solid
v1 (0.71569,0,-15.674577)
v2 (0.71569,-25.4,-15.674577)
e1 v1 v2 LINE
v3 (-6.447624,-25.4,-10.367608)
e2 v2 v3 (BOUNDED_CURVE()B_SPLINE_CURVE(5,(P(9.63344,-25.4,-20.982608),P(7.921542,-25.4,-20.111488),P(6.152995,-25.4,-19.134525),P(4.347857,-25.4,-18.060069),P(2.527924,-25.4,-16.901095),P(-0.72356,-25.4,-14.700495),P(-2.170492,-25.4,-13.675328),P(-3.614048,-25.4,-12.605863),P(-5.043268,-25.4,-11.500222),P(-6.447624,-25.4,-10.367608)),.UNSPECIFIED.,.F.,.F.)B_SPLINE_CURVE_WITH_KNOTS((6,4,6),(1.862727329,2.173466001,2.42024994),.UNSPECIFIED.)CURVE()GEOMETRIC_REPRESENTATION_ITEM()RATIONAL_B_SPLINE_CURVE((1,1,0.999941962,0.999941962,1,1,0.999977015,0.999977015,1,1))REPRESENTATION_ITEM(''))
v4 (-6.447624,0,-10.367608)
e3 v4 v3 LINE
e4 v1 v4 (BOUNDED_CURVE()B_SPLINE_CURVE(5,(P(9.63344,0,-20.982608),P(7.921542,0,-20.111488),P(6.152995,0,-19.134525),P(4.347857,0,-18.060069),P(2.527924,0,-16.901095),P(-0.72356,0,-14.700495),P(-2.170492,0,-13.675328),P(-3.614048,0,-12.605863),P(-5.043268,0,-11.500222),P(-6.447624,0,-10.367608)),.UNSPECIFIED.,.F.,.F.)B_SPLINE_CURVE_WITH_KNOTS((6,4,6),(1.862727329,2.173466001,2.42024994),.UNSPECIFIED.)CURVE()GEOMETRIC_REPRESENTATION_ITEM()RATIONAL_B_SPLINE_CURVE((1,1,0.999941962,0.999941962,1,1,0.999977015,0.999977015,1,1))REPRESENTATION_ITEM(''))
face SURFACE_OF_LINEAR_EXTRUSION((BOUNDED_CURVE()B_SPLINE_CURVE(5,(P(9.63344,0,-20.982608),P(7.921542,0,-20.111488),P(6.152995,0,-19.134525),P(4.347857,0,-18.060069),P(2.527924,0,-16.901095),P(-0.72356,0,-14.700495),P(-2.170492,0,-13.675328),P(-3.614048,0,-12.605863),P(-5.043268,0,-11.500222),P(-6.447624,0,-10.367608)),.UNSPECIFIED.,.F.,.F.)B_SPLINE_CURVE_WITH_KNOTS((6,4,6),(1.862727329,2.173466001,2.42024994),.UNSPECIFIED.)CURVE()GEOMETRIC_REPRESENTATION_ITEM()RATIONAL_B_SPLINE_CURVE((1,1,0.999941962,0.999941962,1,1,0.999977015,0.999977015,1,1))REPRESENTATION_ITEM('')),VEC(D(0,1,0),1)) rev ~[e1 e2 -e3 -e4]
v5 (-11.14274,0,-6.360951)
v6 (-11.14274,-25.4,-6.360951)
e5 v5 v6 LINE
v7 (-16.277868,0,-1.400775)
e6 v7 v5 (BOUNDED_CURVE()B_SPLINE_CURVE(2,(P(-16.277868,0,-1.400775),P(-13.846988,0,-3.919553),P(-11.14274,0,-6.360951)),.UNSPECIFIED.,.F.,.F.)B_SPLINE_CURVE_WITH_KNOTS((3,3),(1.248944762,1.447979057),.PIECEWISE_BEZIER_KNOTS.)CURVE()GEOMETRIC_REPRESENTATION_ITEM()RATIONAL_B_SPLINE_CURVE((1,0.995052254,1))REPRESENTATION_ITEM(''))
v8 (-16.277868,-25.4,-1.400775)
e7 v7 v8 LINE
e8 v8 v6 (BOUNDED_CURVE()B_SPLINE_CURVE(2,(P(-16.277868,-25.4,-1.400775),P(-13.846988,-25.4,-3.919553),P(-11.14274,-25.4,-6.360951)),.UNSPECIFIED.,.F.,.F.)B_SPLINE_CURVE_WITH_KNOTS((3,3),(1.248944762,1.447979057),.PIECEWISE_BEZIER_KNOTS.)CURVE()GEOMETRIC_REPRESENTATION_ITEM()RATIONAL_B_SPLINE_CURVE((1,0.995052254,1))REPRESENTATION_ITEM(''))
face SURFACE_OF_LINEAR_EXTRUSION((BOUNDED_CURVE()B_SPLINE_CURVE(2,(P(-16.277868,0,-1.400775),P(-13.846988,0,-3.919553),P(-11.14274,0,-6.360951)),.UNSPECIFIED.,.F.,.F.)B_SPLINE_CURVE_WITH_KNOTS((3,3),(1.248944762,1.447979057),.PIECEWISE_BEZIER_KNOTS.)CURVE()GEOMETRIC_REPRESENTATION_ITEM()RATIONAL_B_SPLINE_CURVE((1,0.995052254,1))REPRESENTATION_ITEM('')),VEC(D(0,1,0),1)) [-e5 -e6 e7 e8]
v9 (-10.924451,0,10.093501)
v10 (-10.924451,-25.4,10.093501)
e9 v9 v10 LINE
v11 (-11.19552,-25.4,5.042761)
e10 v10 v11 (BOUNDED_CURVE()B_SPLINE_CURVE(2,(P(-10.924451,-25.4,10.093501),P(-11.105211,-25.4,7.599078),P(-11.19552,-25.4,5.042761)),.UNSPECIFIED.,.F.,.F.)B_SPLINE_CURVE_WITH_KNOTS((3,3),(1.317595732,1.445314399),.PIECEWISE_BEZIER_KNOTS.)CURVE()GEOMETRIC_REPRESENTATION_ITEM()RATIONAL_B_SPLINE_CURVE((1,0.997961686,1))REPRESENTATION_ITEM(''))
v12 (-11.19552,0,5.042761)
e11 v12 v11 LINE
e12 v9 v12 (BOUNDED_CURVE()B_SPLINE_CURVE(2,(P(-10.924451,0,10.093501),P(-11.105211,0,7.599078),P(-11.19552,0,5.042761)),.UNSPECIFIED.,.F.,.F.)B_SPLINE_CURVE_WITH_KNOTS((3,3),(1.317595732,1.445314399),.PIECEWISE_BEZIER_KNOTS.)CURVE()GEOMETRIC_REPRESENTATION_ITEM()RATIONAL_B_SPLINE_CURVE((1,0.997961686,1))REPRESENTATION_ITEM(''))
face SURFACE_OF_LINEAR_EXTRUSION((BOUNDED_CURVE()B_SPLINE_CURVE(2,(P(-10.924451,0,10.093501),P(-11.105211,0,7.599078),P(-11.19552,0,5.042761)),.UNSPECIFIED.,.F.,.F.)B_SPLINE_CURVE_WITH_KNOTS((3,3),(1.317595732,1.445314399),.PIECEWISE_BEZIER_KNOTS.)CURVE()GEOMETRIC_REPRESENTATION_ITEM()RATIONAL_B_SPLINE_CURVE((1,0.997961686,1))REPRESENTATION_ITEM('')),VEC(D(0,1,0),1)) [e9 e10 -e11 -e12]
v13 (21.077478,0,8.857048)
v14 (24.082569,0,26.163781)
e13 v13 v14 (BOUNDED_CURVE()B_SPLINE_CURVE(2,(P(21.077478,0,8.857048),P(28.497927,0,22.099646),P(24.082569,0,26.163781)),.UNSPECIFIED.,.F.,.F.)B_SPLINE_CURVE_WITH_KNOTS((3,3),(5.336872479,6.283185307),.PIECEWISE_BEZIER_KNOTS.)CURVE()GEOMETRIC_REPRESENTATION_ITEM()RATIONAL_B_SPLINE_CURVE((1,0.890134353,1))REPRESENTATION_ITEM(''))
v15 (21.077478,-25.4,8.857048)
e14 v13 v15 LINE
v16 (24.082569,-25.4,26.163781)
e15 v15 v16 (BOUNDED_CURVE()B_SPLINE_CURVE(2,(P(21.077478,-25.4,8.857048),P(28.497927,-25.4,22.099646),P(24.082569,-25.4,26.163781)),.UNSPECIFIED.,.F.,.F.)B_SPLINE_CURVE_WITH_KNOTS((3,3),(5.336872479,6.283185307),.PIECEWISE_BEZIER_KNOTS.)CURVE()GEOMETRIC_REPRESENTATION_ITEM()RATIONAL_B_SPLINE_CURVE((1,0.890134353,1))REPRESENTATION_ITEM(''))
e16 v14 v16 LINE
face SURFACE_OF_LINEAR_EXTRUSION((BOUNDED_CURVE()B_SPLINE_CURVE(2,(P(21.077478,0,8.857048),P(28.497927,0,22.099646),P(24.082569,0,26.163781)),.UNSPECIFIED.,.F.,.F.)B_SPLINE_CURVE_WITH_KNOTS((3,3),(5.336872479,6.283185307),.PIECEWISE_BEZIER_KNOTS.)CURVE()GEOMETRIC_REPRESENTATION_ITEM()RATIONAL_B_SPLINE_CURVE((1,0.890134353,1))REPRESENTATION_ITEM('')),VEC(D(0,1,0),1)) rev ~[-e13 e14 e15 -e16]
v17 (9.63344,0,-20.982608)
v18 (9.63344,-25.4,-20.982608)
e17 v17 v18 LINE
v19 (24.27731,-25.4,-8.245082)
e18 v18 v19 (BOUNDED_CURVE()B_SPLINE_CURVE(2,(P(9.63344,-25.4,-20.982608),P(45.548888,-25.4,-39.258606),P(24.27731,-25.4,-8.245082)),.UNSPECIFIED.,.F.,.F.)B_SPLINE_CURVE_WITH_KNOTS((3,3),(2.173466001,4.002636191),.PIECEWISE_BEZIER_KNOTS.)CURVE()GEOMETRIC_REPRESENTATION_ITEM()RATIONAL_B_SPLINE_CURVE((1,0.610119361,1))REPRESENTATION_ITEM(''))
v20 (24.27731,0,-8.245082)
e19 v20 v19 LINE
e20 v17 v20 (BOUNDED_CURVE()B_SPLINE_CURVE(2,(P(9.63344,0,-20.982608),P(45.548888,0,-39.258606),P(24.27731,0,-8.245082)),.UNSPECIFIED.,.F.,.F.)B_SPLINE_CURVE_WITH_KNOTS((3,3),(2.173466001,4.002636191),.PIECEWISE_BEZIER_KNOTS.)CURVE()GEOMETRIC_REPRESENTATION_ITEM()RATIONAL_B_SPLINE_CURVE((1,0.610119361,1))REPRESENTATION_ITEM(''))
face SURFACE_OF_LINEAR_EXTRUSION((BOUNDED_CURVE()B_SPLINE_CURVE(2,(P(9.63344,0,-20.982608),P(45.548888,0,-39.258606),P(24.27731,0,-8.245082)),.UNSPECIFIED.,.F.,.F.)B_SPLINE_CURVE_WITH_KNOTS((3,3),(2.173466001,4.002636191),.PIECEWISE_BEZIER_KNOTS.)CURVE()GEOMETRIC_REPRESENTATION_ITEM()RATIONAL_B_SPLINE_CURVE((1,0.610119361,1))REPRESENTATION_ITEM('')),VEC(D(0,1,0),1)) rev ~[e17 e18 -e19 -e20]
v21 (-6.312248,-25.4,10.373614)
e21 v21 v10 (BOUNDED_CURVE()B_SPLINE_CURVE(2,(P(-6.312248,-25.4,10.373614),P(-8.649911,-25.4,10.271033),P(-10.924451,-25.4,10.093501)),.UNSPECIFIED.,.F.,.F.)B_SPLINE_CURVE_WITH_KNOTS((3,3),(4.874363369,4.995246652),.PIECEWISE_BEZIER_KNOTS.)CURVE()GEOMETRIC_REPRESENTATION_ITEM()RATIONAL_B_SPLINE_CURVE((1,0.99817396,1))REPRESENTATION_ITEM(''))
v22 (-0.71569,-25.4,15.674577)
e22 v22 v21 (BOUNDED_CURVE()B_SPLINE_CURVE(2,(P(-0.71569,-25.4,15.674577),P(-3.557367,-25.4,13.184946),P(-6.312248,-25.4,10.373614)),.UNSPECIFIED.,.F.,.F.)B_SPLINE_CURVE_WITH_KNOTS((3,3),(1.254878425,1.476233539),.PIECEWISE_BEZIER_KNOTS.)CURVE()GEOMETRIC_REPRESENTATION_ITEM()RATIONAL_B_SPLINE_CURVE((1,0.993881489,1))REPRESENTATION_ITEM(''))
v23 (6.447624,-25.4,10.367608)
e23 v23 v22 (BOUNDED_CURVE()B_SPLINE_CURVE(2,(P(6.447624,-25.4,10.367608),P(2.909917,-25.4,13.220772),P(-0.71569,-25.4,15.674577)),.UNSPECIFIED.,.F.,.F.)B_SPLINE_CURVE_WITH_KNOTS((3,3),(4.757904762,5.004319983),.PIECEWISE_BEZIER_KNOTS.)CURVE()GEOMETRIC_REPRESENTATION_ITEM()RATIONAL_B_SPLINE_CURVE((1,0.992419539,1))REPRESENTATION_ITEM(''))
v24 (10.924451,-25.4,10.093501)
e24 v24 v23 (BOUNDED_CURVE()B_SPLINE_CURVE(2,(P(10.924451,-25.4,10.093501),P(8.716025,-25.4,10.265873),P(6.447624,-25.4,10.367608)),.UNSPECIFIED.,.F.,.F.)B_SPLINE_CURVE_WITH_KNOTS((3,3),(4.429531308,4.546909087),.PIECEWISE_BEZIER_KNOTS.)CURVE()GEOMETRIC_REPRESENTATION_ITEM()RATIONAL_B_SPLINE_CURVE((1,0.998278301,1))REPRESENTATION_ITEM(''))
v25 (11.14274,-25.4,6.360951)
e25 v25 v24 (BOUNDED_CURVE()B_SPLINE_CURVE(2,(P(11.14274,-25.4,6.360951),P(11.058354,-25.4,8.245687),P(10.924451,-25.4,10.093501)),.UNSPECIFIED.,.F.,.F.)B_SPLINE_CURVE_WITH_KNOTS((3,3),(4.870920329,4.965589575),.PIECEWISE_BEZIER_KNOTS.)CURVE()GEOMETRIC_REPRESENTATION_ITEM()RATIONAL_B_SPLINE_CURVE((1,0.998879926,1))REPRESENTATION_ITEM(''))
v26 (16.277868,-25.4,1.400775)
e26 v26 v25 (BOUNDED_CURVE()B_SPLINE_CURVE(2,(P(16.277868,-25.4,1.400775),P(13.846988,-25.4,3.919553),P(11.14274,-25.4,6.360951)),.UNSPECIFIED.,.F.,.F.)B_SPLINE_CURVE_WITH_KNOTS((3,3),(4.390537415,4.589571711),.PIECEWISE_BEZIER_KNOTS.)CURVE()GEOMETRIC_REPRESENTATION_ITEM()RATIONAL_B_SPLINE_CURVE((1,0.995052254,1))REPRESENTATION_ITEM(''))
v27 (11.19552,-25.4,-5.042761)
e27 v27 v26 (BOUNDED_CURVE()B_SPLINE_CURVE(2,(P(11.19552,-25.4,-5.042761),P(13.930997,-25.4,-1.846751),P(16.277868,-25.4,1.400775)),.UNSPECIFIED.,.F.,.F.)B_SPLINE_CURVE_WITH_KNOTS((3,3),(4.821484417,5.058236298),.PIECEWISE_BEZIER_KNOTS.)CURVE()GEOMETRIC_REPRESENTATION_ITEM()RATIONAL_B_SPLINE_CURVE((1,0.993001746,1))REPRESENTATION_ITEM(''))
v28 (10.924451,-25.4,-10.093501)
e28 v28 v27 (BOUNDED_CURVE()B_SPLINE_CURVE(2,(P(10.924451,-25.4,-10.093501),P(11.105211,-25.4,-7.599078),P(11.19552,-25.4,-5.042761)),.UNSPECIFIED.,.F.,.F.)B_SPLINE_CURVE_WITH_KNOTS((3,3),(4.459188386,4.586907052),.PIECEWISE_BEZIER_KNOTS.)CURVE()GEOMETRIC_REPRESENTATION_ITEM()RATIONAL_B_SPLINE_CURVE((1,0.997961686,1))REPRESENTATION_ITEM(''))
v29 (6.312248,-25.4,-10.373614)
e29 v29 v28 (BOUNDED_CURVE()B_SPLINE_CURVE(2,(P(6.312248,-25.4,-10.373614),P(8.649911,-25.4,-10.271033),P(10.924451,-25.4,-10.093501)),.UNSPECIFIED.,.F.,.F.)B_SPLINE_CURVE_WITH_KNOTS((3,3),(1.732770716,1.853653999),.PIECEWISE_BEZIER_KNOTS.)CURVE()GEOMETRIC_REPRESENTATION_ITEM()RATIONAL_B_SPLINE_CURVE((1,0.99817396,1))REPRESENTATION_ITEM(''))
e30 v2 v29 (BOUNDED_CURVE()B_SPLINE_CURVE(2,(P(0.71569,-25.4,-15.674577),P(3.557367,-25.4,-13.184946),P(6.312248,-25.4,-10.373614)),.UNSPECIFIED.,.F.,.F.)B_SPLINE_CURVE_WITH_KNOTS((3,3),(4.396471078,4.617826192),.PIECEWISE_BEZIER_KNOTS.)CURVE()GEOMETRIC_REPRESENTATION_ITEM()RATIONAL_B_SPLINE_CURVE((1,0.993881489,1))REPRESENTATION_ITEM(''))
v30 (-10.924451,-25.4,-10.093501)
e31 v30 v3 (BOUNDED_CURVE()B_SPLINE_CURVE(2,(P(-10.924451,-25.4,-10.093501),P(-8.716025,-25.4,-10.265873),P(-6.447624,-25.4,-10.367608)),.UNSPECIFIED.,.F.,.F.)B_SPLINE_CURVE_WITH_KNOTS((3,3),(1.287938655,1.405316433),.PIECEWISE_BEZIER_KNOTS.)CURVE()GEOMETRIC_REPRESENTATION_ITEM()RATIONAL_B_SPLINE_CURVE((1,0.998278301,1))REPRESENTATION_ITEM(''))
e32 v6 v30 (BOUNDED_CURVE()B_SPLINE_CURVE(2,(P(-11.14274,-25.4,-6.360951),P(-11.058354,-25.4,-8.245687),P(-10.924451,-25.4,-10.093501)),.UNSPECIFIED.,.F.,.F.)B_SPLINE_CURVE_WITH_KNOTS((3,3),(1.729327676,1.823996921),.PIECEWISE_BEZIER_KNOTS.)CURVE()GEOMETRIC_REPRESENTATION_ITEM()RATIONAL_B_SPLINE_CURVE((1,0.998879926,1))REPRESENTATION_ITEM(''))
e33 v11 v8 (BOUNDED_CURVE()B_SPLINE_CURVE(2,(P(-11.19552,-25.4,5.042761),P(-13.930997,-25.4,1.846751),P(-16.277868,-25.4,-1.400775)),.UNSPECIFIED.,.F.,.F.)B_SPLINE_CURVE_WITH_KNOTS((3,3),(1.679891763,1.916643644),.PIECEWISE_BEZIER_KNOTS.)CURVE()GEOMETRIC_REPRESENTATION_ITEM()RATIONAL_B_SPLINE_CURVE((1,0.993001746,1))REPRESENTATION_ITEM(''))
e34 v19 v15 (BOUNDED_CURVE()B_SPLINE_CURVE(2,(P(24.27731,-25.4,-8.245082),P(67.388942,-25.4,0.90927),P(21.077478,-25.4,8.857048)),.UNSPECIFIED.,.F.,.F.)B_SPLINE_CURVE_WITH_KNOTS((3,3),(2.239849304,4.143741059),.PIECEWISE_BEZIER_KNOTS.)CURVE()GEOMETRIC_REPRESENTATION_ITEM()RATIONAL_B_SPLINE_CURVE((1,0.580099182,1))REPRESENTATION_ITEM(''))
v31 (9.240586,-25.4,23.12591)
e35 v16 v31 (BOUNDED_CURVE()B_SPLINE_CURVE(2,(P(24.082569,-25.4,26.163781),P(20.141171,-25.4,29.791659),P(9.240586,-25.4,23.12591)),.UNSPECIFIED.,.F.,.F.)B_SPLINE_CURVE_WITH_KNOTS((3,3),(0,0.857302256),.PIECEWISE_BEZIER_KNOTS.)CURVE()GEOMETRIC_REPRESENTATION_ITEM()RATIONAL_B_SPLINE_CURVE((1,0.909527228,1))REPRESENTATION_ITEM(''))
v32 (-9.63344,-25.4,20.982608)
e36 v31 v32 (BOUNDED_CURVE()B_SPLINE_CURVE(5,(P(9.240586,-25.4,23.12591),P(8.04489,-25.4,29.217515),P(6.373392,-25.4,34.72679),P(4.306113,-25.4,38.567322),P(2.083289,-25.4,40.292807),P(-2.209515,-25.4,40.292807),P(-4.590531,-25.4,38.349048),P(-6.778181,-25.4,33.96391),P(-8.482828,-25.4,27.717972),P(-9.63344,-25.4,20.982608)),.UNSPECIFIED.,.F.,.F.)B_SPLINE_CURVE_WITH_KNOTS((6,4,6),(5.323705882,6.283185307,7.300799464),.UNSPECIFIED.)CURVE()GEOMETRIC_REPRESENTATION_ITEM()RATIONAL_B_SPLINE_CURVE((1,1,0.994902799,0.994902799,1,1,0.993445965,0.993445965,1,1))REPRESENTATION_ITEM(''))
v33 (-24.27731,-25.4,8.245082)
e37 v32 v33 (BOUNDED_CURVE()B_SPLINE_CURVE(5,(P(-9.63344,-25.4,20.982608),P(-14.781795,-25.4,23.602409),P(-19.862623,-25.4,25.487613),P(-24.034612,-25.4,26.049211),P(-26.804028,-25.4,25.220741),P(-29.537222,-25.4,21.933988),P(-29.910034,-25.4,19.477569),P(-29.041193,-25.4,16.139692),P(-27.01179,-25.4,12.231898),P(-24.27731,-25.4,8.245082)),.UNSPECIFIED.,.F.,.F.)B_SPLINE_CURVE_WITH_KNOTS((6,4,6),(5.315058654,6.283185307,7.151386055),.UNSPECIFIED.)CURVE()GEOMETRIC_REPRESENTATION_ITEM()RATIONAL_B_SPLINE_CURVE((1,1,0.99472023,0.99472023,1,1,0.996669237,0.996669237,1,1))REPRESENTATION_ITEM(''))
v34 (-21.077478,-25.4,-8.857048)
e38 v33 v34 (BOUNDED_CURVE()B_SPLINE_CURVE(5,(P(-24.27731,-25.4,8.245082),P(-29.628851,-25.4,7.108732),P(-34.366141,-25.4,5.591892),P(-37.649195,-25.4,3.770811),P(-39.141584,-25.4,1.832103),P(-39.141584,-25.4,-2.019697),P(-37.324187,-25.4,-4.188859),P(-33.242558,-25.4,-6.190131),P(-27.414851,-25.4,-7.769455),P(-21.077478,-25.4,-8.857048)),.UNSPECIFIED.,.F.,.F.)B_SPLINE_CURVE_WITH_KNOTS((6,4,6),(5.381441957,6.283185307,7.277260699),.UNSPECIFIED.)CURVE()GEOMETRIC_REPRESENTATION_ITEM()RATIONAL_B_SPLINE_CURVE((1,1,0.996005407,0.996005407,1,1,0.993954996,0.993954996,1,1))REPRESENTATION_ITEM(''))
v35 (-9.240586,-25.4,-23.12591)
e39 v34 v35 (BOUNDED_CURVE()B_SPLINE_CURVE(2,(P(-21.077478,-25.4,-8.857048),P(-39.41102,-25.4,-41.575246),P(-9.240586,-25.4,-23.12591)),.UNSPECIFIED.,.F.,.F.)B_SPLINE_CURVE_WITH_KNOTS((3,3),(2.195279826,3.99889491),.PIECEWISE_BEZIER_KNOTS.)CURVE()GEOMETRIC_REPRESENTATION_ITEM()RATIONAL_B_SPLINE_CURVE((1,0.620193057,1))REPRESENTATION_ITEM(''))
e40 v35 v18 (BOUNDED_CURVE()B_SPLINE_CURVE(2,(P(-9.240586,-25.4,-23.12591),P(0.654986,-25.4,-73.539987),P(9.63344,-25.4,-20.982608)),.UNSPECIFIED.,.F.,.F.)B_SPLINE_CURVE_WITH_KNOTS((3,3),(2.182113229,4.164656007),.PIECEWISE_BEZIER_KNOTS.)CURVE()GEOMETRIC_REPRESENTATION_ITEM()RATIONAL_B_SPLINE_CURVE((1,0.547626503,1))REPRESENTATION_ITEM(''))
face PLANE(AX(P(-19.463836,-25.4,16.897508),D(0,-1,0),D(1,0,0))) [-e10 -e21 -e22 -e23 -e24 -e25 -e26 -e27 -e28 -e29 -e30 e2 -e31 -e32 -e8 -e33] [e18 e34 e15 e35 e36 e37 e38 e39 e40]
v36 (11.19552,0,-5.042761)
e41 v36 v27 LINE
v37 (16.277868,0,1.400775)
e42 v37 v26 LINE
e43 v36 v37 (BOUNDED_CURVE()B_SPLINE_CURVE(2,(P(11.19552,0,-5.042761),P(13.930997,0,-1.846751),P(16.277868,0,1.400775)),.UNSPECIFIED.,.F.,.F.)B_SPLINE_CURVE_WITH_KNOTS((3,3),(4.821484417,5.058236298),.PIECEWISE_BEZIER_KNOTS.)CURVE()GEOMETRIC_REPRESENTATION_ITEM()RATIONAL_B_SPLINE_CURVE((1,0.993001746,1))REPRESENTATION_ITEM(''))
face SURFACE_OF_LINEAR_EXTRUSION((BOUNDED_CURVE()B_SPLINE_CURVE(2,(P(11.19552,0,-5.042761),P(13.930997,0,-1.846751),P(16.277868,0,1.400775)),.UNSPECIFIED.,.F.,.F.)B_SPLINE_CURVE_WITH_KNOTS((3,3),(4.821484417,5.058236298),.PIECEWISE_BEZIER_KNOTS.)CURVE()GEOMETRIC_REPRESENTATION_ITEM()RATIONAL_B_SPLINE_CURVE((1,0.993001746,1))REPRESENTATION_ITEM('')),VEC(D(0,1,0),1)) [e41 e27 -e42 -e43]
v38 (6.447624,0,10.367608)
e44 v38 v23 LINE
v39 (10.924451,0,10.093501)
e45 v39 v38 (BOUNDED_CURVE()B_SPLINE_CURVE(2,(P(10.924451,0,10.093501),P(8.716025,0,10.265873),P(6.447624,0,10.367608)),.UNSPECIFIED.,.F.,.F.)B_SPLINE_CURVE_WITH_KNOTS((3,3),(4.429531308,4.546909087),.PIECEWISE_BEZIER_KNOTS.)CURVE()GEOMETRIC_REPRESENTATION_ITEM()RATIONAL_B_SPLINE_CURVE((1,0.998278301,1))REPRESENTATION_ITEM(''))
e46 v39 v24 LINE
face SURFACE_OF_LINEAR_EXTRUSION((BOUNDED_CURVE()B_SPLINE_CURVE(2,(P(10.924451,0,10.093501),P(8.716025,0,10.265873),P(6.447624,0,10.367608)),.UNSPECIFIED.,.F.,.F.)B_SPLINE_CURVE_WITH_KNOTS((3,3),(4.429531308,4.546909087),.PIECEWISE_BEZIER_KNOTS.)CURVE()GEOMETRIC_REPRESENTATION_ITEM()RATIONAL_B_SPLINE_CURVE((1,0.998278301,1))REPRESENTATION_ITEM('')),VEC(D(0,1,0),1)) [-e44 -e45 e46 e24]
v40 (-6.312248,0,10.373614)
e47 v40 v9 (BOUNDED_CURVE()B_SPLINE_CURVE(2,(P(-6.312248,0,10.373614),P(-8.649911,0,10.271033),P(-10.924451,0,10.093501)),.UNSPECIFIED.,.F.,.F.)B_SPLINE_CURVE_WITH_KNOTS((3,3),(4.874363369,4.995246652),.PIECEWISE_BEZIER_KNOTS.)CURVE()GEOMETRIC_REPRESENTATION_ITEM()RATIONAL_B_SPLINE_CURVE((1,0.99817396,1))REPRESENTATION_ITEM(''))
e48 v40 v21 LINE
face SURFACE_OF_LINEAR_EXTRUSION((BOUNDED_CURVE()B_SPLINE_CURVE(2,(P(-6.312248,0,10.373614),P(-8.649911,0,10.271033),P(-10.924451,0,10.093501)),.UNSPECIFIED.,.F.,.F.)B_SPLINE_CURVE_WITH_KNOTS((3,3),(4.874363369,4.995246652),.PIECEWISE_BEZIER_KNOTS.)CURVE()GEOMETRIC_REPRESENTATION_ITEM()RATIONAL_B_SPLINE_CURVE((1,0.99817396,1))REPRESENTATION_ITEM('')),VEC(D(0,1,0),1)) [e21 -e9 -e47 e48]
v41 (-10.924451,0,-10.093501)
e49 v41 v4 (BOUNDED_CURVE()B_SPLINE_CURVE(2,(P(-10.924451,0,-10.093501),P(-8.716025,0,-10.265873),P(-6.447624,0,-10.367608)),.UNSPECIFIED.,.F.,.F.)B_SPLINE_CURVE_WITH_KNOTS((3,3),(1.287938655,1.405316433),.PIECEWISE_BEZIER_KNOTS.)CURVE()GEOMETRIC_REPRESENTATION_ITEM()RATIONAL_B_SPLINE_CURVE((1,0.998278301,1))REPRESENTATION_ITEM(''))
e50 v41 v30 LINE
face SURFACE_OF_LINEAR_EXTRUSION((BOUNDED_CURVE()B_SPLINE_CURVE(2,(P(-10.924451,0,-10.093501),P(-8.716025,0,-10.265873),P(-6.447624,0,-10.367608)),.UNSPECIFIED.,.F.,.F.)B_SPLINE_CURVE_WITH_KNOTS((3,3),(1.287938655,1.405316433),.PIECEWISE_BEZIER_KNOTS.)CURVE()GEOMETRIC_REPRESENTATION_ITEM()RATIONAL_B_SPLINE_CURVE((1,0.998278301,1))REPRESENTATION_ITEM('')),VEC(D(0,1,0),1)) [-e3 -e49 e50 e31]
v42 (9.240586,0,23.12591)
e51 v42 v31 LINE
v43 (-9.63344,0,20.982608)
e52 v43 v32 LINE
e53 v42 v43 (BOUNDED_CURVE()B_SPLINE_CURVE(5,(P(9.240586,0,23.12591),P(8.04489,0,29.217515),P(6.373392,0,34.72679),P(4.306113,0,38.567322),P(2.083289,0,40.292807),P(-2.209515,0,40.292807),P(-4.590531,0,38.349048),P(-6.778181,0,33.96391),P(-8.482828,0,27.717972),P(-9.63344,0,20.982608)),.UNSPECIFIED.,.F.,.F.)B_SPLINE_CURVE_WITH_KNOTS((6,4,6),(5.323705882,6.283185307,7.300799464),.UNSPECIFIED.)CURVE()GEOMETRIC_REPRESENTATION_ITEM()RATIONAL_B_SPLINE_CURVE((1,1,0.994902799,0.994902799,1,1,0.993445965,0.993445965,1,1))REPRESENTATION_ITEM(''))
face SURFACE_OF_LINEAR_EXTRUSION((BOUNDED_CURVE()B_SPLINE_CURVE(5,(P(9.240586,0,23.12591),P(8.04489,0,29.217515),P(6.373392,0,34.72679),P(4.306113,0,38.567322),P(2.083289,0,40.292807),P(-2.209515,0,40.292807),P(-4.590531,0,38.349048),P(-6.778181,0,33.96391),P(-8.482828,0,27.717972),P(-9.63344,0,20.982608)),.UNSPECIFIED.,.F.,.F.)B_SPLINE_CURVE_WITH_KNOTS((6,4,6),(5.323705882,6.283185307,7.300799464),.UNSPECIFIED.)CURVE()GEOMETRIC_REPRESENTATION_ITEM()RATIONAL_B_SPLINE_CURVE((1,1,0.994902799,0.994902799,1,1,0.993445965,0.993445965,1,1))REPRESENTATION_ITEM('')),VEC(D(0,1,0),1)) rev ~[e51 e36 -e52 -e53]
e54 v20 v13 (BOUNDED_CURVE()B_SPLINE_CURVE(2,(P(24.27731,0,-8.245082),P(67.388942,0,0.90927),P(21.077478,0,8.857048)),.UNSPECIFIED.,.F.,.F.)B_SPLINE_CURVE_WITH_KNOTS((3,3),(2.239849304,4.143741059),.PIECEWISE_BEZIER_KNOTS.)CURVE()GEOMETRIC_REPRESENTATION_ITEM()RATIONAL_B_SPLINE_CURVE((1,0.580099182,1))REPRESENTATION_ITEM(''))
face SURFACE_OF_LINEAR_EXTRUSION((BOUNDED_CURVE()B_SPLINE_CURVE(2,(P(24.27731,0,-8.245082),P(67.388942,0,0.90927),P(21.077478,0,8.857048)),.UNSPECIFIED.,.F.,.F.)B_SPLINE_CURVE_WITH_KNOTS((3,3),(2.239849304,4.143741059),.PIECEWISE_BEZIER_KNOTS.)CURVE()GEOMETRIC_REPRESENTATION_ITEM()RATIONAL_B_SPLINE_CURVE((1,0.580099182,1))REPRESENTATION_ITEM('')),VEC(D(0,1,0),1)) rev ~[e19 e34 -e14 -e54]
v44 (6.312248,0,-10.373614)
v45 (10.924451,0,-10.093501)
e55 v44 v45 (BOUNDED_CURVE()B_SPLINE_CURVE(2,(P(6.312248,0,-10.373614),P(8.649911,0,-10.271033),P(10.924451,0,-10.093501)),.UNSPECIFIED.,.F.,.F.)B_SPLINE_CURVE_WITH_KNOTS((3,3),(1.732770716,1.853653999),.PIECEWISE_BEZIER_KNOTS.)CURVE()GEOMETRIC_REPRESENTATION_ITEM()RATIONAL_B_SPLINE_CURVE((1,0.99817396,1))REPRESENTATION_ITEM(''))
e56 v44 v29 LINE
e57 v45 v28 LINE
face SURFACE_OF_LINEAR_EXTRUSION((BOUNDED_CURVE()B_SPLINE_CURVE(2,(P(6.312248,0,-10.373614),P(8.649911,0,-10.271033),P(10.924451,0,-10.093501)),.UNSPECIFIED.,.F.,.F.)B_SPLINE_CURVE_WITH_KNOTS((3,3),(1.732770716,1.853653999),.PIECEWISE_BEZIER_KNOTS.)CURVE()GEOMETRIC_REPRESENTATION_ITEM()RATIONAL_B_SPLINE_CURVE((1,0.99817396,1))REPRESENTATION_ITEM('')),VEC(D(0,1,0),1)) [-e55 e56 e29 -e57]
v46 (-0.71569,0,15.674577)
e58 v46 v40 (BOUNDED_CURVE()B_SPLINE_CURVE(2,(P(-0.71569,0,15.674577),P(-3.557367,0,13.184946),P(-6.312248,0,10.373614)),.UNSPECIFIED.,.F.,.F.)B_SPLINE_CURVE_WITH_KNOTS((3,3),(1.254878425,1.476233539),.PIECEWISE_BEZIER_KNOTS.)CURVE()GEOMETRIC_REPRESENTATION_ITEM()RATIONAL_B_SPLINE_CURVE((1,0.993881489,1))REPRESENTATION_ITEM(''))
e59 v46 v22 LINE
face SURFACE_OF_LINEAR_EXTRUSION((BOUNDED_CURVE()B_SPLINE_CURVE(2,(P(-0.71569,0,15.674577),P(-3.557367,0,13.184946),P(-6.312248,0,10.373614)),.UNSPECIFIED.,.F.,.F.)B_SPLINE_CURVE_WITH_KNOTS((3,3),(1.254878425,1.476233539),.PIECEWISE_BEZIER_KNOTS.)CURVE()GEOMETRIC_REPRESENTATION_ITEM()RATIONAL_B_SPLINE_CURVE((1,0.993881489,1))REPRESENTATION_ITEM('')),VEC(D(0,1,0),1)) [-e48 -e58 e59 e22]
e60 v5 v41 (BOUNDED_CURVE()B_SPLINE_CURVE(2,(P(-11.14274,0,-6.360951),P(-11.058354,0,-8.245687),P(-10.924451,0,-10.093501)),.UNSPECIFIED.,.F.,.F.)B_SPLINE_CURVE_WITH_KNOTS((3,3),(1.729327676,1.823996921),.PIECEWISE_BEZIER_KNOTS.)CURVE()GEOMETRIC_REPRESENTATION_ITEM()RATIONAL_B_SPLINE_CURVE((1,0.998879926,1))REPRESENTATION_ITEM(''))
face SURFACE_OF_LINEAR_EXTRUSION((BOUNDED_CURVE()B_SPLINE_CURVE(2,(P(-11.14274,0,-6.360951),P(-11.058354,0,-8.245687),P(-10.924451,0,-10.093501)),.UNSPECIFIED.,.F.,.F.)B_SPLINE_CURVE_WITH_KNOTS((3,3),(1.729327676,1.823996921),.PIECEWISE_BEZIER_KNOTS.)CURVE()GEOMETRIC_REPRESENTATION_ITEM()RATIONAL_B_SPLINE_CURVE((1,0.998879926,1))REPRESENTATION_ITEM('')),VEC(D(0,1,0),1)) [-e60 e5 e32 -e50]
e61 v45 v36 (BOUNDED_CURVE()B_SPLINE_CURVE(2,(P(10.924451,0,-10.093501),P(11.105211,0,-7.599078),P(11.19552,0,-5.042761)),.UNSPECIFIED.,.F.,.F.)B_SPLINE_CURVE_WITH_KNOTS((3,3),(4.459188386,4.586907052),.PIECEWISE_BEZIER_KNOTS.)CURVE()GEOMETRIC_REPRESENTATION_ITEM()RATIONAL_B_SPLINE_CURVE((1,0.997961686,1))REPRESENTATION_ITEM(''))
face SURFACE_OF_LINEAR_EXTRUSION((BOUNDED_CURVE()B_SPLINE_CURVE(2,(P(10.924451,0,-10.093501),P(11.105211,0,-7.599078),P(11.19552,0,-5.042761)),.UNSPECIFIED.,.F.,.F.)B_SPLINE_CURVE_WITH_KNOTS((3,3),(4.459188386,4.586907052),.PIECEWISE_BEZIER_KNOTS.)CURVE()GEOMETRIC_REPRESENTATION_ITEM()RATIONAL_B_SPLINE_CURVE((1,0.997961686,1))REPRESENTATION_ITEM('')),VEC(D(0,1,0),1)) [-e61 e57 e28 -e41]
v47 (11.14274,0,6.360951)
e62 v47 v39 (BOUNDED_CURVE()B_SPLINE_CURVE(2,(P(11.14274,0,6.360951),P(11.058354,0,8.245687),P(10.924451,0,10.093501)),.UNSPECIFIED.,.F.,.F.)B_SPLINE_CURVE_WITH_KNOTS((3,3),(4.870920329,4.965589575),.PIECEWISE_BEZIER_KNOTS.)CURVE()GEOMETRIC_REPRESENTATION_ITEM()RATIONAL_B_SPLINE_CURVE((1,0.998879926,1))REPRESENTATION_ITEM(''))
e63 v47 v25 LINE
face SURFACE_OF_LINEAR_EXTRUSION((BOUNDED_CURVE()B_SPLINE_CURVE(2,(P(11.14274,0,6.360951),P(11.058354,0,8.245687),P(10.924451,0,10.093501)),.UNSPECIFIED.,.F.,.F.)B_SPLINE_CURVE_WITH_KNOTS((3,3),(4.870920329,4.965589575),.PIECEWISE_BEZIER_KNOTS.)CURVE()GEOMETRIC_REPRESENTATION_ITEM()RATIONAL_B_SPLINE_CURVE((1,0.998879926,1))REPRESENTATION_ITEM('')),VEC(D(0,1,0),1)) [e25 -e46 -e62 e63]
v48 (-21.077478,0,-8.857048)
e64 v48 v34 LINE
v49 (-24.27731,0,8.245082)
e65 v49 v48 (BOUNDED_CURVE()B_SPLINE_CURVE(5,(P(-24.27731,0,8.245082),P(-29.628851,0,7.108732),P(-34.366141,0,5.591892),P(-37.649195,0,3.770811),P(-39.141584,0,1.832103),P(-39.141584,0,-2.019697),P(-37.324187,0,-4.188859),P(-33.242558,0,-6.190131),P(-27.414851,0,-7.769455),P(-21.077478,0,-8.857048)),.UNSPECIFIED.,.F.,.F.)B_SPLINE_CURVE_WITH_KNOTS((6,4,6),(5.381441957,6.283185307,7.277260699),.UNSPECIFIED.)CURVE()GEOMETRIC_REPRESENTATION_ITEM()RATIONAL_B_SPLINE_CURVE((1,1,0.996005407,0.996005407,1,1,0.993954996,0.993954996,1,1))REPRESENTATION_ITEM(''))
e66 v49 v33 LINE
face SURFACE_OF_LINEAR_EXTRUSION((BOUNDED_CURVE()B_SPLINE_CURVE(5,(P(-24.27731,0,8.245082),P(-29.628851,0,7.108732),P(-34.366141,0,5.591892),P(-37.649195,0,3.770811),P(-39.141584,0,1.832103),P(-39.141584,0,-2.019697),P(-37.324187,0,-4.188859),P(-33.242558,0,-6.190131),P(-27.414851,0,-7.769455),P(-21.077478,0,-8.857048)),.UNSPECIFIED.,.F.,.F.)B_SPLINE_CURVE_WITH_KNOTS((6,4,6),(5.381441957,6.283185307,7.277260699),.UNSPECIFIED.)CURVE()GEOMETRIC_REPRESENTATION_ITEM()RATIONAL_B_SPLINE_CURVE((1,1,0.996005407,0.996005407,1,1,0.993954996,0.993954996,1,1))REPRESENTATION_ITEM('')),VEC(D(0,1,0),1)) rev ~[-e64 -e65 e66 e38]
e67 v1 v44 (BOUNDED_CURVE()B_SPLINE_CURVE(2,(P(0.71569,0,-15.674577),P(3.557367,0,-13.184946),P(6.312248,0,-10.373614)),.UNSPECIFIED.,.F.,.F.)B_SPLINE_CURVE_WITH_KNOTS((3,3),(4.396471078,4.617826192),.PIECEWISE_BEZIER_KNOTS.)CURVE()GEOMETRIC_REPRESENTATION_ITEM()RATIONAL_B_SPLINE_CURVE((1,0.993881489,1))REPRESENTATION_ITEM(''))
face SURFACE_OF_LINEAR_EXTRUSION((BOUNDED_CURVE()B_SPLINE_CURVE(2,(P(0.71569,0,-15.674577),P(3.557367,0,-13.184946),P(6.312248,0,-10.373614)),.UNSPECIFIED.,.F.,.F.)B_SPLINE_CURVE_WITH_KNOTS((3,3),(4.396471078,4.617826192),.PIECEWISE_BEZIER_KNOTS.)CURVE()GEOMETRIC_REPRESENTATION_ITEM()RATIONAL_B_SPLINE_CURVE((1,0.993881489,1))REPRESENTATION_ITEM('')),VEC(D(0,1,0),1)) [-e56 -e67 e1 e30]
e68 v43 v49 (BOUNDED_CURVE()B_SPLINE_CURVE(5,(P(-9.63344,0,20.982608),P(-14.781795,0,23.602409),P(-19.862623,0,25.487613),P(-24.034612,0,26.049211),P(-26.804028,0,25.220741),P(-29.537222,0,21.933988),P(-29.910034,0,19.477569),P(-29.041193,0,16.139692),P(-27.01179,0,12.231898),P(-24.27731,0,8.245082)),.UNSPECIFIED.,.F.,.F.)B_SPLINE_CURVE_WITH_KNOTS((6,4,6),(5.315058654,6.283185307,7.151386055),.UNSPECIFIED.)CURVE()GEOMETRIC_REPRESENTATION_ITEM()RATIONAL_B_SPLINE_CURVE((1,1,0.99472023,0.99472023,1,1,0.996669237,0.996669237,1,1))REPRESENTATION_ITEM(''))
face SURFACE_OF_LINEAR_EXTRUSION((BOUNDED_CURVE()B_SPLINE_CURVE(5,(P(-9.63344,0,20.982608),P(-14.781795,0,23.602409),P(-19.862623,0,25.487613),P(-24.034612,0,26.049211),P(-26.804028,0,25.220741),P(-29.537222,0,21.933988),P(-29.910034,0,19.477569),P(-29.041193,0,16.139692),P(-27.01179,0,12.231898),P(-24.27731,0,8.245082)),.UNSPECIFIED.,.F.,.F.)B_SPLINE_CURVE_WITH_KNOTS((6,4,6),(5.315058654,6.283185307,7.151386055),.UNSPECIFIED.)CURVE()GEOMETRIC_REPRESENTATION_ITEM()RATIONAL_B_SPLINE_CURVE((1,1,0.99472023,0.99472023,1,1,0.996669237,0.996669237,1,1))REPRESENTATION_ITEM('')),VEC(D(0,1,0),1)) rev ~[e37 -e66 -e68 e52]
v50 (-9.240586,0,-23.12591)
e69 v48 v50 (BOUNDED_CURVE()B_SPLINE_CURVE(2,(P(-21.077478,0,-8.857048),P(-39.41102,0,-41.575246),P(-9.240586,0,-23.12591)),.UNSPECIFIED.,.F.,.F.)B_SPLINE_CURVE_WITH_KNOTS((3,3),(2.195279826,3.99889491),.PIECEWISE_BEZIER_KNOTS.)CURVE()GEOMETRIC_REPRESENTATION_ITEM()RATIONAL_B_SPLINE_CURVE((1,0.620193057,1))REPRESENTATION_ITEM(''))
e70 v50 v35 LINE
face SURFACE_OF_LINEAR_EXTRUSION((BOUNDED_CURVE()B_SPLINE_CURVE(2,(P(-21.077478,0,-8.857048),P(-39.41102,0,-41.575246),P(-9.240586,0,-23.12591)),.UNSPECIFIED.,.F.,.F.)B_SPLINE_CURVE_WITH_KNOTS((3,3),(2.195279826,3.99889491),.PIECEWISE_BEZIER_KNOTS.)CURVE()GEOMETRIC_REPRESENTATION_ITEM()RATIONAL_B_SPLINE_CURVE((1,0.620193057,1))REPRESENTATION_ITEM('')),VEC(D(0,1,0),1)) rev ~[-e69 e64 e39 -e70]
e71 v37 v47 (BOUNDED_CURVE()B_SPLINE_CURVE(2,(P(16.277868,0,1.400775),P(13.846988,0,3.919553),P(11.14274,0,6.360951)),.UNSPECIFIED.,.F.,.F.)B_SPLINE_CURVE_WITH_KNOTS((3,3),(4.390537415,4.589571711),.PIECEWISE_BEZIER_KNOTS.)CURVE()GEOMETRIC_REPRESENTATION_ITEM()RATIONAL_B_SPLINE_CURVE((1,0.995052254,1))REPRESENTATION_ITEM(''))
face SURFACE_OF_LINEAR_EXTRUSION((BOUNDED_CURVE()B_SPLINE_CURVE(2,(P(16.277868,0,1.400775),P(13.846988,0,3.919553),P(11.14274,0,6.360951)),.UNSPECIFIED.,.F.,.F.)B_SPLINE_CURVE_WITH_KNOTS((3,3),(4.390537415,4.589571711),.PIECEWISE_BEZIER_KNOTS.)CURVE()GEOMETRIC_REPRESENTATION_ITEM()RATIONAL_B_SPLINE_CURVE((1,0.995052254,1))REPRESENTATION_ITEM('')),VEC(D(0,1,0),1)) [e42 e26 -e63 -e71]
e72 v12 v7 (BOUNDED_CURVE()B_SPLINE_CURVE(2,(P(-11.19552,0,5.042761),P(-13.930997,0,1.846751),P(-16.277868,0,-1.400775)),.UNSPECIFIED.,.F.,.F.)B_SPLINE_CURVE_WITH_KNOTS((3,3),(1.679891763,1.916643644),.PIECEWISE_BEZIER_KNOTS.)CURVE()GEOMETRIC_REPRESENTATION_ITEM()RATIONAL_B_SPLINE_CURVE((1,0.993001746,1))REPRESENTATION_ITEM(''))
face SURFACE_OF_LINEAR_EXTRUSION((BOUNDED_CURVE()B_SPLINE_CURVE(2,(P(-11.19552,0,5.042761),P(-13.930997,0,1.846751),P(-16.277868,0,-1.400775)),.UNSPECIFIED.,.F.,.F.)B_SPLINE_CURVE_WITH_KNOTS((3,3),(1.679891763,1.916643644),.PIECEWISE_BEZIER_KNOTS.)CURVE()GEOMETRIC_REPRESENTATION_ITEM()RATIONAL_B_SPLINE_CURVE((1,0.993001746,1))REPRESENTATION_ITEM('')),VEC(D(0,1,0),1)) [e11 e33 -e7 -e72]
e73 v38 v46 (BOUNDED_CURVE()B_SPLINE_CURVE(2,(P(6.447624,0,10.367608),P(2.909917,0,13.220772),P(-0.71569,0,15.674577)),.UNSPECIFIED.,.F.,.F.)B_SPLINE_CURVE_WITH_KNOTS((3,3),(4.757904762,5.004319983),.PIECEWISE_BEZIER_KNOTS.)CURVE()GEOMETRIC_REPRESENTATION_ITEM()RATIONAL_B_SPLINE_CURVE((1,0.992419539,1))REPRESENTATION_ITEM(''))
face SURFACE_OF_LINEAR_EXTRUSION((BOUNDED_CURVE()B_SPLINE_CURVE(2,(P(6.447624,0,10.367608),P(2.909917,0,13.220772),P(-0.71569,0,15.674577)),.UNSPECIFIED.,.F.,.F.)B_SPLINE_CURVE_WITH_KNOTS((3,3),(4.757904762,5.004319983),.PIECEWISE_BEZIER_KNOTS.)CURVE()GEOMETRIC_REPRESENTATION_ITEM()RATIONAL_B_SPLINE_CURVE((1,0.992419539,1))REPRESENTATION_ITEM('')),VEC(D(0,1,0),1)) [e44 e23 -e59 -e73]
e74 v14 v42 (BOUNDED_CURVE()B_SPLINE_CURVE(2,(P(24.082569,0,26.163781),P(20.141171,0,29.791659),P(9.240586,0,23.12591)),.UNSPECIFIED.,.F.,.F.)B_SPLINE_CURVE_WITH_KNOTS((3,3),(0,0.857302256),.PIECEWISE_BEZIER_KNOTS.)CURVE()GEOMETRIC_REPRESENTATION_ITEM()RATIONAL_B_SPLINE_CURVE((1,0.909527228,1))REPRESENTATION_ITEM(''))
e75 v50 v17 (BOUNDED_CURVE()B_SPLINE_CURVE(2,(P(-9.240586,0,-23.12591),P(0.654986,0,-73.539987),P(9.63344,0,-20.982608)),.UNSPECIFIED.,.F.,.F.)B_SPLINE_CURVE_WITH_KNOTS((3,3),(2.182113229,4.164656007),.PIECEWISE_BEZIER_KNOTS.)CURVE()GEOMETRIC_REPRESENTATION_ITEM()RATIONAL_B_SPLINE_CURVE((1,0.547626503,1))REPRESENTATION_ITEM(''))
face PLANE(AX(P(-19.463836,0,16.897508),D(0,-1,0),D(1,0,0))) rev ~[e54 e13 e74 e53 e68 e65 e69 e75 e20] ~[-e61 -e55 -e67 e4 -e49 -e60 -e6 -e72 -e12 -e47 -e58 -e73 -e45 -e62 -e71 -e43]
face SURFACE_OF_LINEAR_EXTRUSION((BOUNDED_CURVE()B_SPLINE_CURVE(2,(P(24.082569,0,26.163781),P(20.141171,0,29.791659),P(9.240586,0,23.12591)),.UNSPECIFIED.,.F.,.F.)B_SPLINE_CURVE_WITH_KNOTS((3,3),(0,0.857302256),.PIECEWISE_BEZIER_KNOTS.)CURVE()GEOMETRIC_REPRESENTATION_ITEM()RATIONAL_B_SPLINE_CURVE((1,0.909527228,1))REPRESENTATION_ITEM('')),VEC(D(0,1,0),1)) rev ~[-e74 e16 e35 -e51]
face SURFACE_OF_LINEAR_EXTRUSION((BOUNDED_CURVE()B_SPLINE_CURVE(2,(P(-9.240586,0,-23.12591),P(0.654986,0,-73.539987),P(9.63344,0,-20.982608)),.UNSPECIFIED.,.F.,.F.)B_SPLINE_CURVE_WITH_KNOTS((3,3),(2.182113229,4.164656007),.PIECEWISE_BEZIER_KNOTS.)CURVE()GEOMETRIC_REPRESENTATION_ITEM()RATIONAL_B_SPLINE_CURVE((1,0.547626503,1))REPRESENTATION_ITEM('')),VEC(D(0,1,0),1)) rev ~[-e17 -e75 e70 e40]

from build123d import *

# Parameters (mm, degrees)
F1_DEPTH = 25.4


with BuildPart() as f1:
    # F0 (on Front) → F1 (new body)
    with BuildSketch(Plane.XZ):
        with BuildLine():
            add(Edge.make_bspline(
                [(-9.6334397965, 20.9826078179), (-24.1749871063, 28.3822451496), (-28.2449897272, 23.4879380359)],
                knots=[5.3150586543, 5.3150586543, 5.3150586543, 6.2831853072, 6.2831853072, 6.2831853072], degree=2, weights=[1, 0.885111246, 1]))
            add(Edge.make_bspline(
                [(-28.2449897272, 23.4879380359), (-31.7999684313, 19.2129635012), (-24.2773097088, 8.2450815815)],
                knots=[0, 0, 0, 0.8610435374, 0.8610435374, 0.8610435374], degree=2, weights=[1, 0.9087481158, 1]))
            add(Edge.make_bspline(
                [(-10.9244512844, 10.093500542), (-18.2738244712, 9.5198655215), (-24.2773097088, 8.2450815815)],
                knots=[4.9952466524, 4.9952466524, 4.9952466524, 5.3814419574, 5.3814419574, 5.3814419574], degree=2, weights=[1, 0.9814145055, 1]))
            add(Edge.make_bspline(
                [(-9.6334397965, 20.9826078179), (-10.5051315613, 15.8799657732), (-10.9244512844, 10.093500542)],
                knots=[1.0230633531, 1.0230633531, 1.0230633531, 1.3175957323, 1.3175957323, 1.3175957323], degree=2, weights=[1, 0.989175918, 1]))
        make_face()
        with BuildLine():
            add(Edge.make_bspline(
                [(-10.9244512844, 10.093500542), (-18.2738244712, 9.5198655215), (-24.2773097088, 8.2450815815)],
                knots=[4.9952466524, 4.9952466524, 4.9952466524, 5.3814419574, 5.3814419574, 5.3814419574], degree=2, weights=[1, 0.9814145055, 1]))
            add(Edge.make_bspline(
                [(-24.2773097088, 8.2450815815), (-21.0599122764, 3.554182203), (-16.2778676613, -1.4007753111)],
                knots=[0.8610435374, 0.8610435374, 0.8610435374, 1.2489447615, 1.2489447615, 1.2489447615], degree=2, weights=[1, 0.9812504656, 1]))
            add(Edge.make_bspline(
                [(-11.1955196289, 5.0427610987), (-13.9309966677, 1.8467505057), (-16.2778676613, -1.4007753111)],
                knots=[1.679891763, 1.679891763, 1.679891763, 1.9166436443, 1.9166436443, 1.9166436443], degree=2, weights=[1, 0.9930017462, 1]))
            add(Edge.make_bspline(
                [(-10.9244512844, 10.093500542), (-11.1052111409, 7.5990778678), (-11.1955196289, 5.0427610987)],
                knots=[1.3175957323, 1.3175957323, 1.3175957323, 1.4453143988, 1.4453143988, 1.4453143988], degree=2, weights=[1, 0.9979616856, 1]))
        make_face()
        with BuildLine():
            add(Edge.make_bspline(
                [(-24.2773097088, 8.2450815815), (-21.0599122764, 3.554182203), (-16.2778676613, -1.4007753111)],
                knots=[0.8610435374, 0.8610435374, 0.8610435374, 1.2489447615, 1.2489447615, 1.2489447615], degree=2, weights=[1, 0.9812504656, 1]))
            add(Edge.make_bspline(
                [(-24.2773097088, 8.2450815815), (-39.1415841877, 5.0887919203), (-39.1415841877, 0)],
                knots=[5.3814419574, 5.3814419574, 5.3814419574, 6.2831853072, 6.2831853072, 6.2831853072], degree=2, weights=[1, 0.9000676118, 1]))
            add(Edge.make_bspline(
                [(-39.1415841877, 0), (-39.1415841877, -5.7569625435), (-21.0774784797, -8.857047955)],
                knots=[0, 0, 0, 1.0021484051, 1.0021484051, 1.0021484051], degree=2, weights=[1, 0.8770670555, 1]))
            add(Edge.make_bspline(
                [(-16.2778676613, -1.4007753111), (-19.0449410134, -5.2297638547), (-21.0774784797, -8.857047955)],
                knots=[1.9166436443, 1.9166436443, 1.9166436443, 2.1952798257, 2.1952798257, 2.1952798257], degree=2, weights=[1, 0.9903109217, 1]))
        make_face()
        with BuildLine():
            add(Edge.make_bspline(
                [(0, 40.2928069234), (-6.3346503874, 40.2928069234), (-9.6334397965, 20.9826078179)],
                knots=[0, 0, 0, 1.0230633531, 1.0230633531, 1.0230633531], degree=2, weights=[1, 0.8719957546, 1]))
            add(Edge.make_bspline(
                [(-0.7156895988, 15.6745771205), (-5.3015148464, 18.7782568712), (-9.6334397965, 20.9826078179)],
                knots=[5.0043199829, 5.0043199829, 5.0043199829, 5.3150586543, 5.3150586543, 5.3150586543], degree=2, weights=[1, 0.9879544453, 1]))
            add(Edge.make_bspline(
                [(9.2405859063, 23.1259098387), (4.4354249084, 20.1875354382), (-0.7156895988, 15.6745771205)],
                knots=[0.8573022563, 0.8573022563, 0.8573022563, 1.2548784247, 1.2548784247, 1.2548784247], degree=2, weights=[1, 0.9803066286, 1]))
            add(Edge.make_bspline(
                [(9.2405859063, 23.1259098387), (5.8709662193, 40.2928069234), (0, 40.2928069234)],
                knots=[5.3237058825, 5.3237058825, 5.3237058825, 6.2831853072, 6.2831853072, 6.2831853072], degree=2, weights=[1, 0.8871150882, 1]))
        make_face()
        with BuildLine():
            add(Edge.make_bspline(
                [(-0.7156895988, 15.6745771205), (-5.3015148464, 18.7782568712), (-9.6334397965, 20.9826078179)],
                knots=[5.0043199829, 5.0043199829, 5.0043199829, 5.3150586543, 5.3150586543, 5.3150586543], degree=2, weights=[1, 0.9879544453, 1]))
            add(Edge.make_bspline(
                [(-9.6334397965, 20.9826078179), (-10.5051315613, 15.8799657732), (-10.9244512844, 10.093500542)],
                knots=[1.0230633531, 1.0230633531, 1.0230633531, 1.3175957323, 1.3175957323, 1.3175957323], degree=2, weights=[1, 0.989175918, 1]))
            add(Edge.make_bspline(
                [(-6.3122484149, 10.3736136544), (-8.649911175, 10.2710334865), (-10.9244512844, 10.093500542)],
                knots=[4.8743633692, 4.8743633692, 4.8743633692, 4.9952466524, 4.9952466524, 4.9952466524], degree=2, weights=[1, 0.99817396, 1]))
            add(Edge.make_bspline(
                [(-0.7156895988, 15.6745771205), (-3.5573674178, 13.184946278), (-6.3122484149, 10.3736136544)],
                knots=[1.2548784247, 1.2548784247, 1.2548784247, 1.476233539, 1.476233539, 1.476233539], degree=2, weights=[1, 0.9938814887, 1]))
        make_face()
        with BuildLine():
            add(Edge.make_bspline(
                [(-16.2778676613, -1.4007753111), (-13.8469877195, -3.9195529059), (-11.1427402225, -6.3609505957)],
                knots=[1.2489447615, 1.2489447615, 1.2489447615, 1.4479790573, 1.4479790573, 1.4479790573], degree=2, weights=[1, 0.9950522541, 1]))
            add(Edge.make_bspline(
                [(-16.2778676613, -1.4007753111), (-19.0449410134, -5.2297638547), (-21.0774784797, -8.857047955)],
                knots=[1.9166436443, 1.9166436443, 1.9166436443, 2.1952798257, 2.1952798257, 2.1952798257], degree=2, weights=[1, 0.9903109217, 1]))
            add(Edge.make_bspline(
                [(-21.0774784797, -8.857047955), (-16.3321884544, -9.6714145568), (-10.9244512844, -10.093500542)],
                knots=[1.0021484051, 1.0021484051, 1.0021484051, 1.2879386547, 1.2879386547, 1.2879386547], degree=2, weights=[1, 0.9898078522, 1]))
            add(Edge.make_bspline(
                [(-11.1427402225, -6.3609505957), (-11.0583542324, -8.2456867845), (-10.9244512844, -10.093500542)],
                knots=[1.7293276756, 1.7293276756, 1.7293276756, 1.8239969212, 1.8239969212, 1.8239969212], degree=2, weights=[1, 0.9988799259, 1]))
        make_face()
        with BuildLine():
            add(Edge.make_bspline(
                [(9.2405859063, 23.1259098387), (4.4354249084, 20.1875354382), (-0.7156895988, 15.6745771205)],
                knots=[0.8573022563, 0.8573022563, 0.8573022563, 1.2548784247, 1.2548784247, 1.2548784247], degree=2, weights=[1, 0.9803066286, 1]))
            add(Edge.make_bspline(
                [(6.4476243744, 10.3676077129), (2.9099172017, 13.2207717958), (-0.7156895988, 15.6745771205)],
                knots=[4.7579047623, 4.7579047623, 4.7579047623, 5.0043199829, 5.0043199829, 5.0043199829], degree=2, weights=[1, 0.992419539, 1]))
            add(Edge.make_bspline(
                [(10.9244512844, 10.093500542), (8.716024728, 10.2658731758), (6.4476243744, 10.3676077129)],
                knots=[4.4295313083, 4.4295313083, 4.4295313083, 4.546909087, 4.546909087, 4.546909087], degree=2, weights=[1, 0.9982783014, 1]))
            add(Edge.make_bspline(
                [(10.9244512844, 10.093500542), (10.4128198041, 17.1538356722), (9.2405859063, 23.1259098387)],
                knots=[4.9655895748, 4.9655895748, 4.9655895748, 5.3237058825, 5.3237058825, 5.3237058825], degree=2, weights=[1, 0.9840118747, 1]))
        make_face()
        with BuildLine():
            add(Edge.make_bspline(
                [(-21.0774784797, -8.857047955), (-16.3321884544, -9.6714145568), (-10.9244512844, -10.093500542)],
                knots=[1.0021484051, 1.0021484051, 1.0021484051, 1.2879386547, 1.2879386547, 1.2879386547], degree=2, weights=[1, 0.9898078522, 1]))
            add(Edge.make_bspline(
                [(-21.0774784797, -8.857047955), (-39.4110199858, -41.5752461227), (-9.2405859063, -23.1259098387)],
                knots=[2.1952798257, 2.1952798257, 2.1952798257, 3.9988949099, 3.9988949099, 3.9988949099], degree=2, weights=[1, 0.6201930572, 1]))
            add(Edge.make_bspline(
                [(-10.9244512844, -10.093500542), (-10.4128198041, -17.1538356722), (-9.2405859063, -23.1259098387)],
                knots=[1.8239969212, 1.8239969212, 1.8239969212, 2.1821132289, 2.1821132289, 2.1821132289], degree=2, weights=[1, 0.9840118747, 1]))
        make_face()
        with BuildLine():
            add(Edge.make_bspline(
                [(24.0825692568, 26.1637814162), (20.1411706974, 29.791659293), (9.2405859063, 23.1259098387)],
                knots=[0, 0, 0, 0.8573022563, 0.8573022563, 0.8573022563], degree=2, weights=[1, 0.9095272279, 1]))
            add(Edge.make_bspline(
                [(10.9244512844, 10.093500542), (10.4128198041, 17.1538356722), (9.2405859063, 23.1259098387)],
                knots=[4.9655895748, 4.9655895748, 4.9655895748, 5.3237058825, 5.3237058825, 5.3237058825], degree=2, weights=[1, 0.9840118747, 1]))
            add(Edge.make_bspline(
                [(21.0774784797, 8.857047955), (16.3321884544, 9.6714145568), (10.9244512844, 10.093500542)],
                knots=[4.1437410587, 4.1437410587, 4.1437410587, 4.4295313083, 4.4295313083, 4.4295313083], degree=2, weights=[1, 0.9898078522, 1]))
            add(Edge.make_bspline(
                [(21.0774784797, 8.857047955), (28.4979272045, 22.0996455071), (24.0825692568, 26.1637814162)],
                knots=[5.3368724793, 5.3368724793, 5.3368724793, 6.2831853072, 6.2831853072, 6.2831853072], degree=2, weights=[1, 0.8901343527, 1]))
        make_face()
        with BuildLine():
            add(Edge.make_bspline(
                [(-6.4476243744, -10.3676077129), (-2.9099172017, -13.2207717958), (0.7156895988, -15.6745771205)],
                knots=[1.6163121087, 1.6163121087, 1.6163121087, 1.8627273293, 1.8627273293, 1.8627273293], degree=2, weights=[1, 0.992419539, 1]))
            add(Edge.make_bspline(
                [(-10.9244512844, -10.093500542), (-8.716024728, -10.2658731758), (-6.4476243744, -10.3676077129)],
                knots=[1.2879386547, 1.2879386547, 1.2879386547, 1.4053164334, 1.4053164334, 1.4053164334], degree=2, weights=[1, 0.9982783014, 1]))
            add(Edge.make_bspline(
                [(-10.9244512844, -10.093500542), (-10.4128198041, -17.1538356722), (-9.2405859063, -23.1259098387)],
                knots=[1.8239969212, 1.8239969212, 1.8239969212, 2.1821132289, 2.1821132289, 2.1821132289], degree=2, weights=[1, 0.9840118747, 1]))
            add(Edge.make_bspline(
                [(-9.2405859063, -23.1259098387), (-4.4354249084, -20.1875354382), (0.7156895988, -15.6745771205)],
                knots=[3.9988949099, 3.9988949099, 3.9988949099, 4.3964710783, 4.3964710783, 4.3964710783], degree=2, weights=[1, 0.9803066286, 1]))
        make_face()
        with BuildLine():
            add(Edge.make_bspline(
                [(-9.2405859063, -23.1259098387), (-4.4354249084, -20.1875354382), (0.7156895988, -15.6745771205)],
                knots=[3.9988949099, 3.9988949099, 3.9988949099, 4.3964710783, 4.3964710783, 4.3964710783], degree=2, weights=[1, 0.9803066286, 1]))
            add(Edge.make_bspline(
                [(-9.2405859063, -23.1259098387), (0.6549861938, -73.5399872764), (9.6334397965, -20.9826078179)],
                knots=[2.1821132289, 2.1821132289, 2.1821132289, 4.1646560067, 4.1646560067, 4.1646560067], degree=2, weights=[1, 0.5476265033, 1]))
            add(Edge.make_bspline(
                [(0.7156895988, -15.6745771205), (5.3015148464, -18.7782568712), (9.6334397965, -20.9826078179)],
                knots=[1.8627273293, 1.8627273293, 1.8627273293, 2.1734660007, 2.1734660007, 2.1734660007], degree=2, weights=[1, 0.9879544453, 1]))
        make_face()
        with BuildLine():
            add(Edge.make_bspline(
                [(11.1427402225, 6.3609505957), (11.0583542324, 8.2456867845), (10.9244512844, 10.093500542)],
                knots=[4.8709203292, 4.8709203292, 4.8709203292, 4.9655895748, 4.9655895748, 4.9655895748], degree=2, weights=[1, 0.9988799259, 1]))
            add(Edge.make_bspline(
                [(16.2778676613, 1.4007753111), (13.8469877195, 3.9195529059), (11.1427402225, 6.3609505957)],
                knots=[4.3905374151, 4.3905374151, 4.3905374151, 4.5895717109, 4.5895717109, 4.5895717109], degree=2, weights=[1, 0.9950522541, 1]))
            add(Edge.make_bspline(
                [(16.2778676613, 1.4007753111), (19.0449410134, 5.2297638547), (21.0774784797, 8.857047955)],
                knots=[5.0582362979, 5.0582362979, 5.0582362979, 5.3368724793, 5.3368724793, 5.3368724793], degree=2, weights=[1, 0.9903109217, 1]))
            add(Edge.make_bspline(
                [(21.0774784797, 8.857047955), (16.3321884544, 9.6714145568), (10.9244512844, 10.093500542)],
                knots=[4.1437410587, 4.1437410587, 4.1437410587, 4.4295313083, 4.4295313083, 4.4295313083], degree=2, weights=[1, 0.9898078522, 1]))
        make_face()
        with BuildLine():
            add(Edge.make_bspline(
                [(0.7156895988, -15.6745771205), (3.5573674178, -13.184946278), (6.3122484149, -10.3736136544)],
                knots=[4.3964710783, 4.3964710783, 4.3964710783, 4.6178261925, 4.6178261925, 4.6178261925], degree=2, weights=[1, 0.9938814887, 1]))
            add(Edge.make_bspline(
                [(0.7156895988, -15.6745771205), (5.3015148464, -18.7782568712), (9.6334397965, -20.9826078179)],
                knots=[1.8627273293, 1.8627273293, 1.8627273293, 2.1734660007, 2.1734660007, 2.1734660007], degree=2, weights=[1, 0.9879544453, 1]))
            add(Edge.make_bspline(
                [(9.6334397965, -20.9826078179), (10.5051315613, -15.8799657732), (10.9244512844, -10.093500542)],
                knots=[4.1646560067, 4.1646560067, 4.1646560067, 4.4591883859, 4.4591883859, 4.4591883859], degree=2, weights=[1, 0.989175918, 1]))
            add(Edge.make_bspline(
                [(6.3122484149, -10.3736136544), (8.649911175, -10.2710334865), (10.9244512844, -10.093500542)],
                knots=[1.7327707156, 1.7327707156, 1.7327707156, 1.8536539989, 1.8536539989, 1.8536539989], degree=2, weights=[1, 0.99817396, 1]))
        make_face()
        with BuildLine():
            add(Edge.make_bspline(
                [(9.6334397965, -20.9826078179), (10.5051315613, -15.8799657732), (10.9244512844, -10.093500542)],
                knots=[4.1646560067, 4.1646560067, 4.1646560067, 4.4591883859, 4.4591883859, 4.4591883859], degree=2, weights=[1, 0.989175918, 1]))
            add(Edge.make_bspline(
                [(9.6334397965, -20.9826078179), (45.5488880813, -39.2586059804), (24.2773097088, -8.2450815815)],
                knots=[2.1734660007, 2.1734660007, 2.1734660007, 4.002636191, 4.002636191, 4.002636191], degree=2, weights=[1, 0.610119361, 1]))
            add(Edge.make_bspline(
                [(10.9244512844, -10.093500542), (18.2738244712, -9.5198655215), (24.2773097088, -8.2450815815)],
                knots=[1.8536539989, 1.8536539989, 1.8536539989, 2.2398493038, 2.2398493038, 2.2398493038], degree=2, weights=[1, 0.9814145055, 1]))
        make_face()
        with BuildLine():
            add(Edge.make_bspline(
                [(16.2778676613, 1.4007753111), (19.0449410134, 5.2297638547), (21.0774784797, 8.857047955)],
                knots=[5.0582362979, 5.0582362979, 5.0582362979, 5.3368724793, 5.3368724793, 5.3368724793], degree=2, weights=[1, 0.9903109217, 1]))
            add(Edge.make_bspline(
                [(24.2773097088, -8.2450815815), (21.0599122764, -3.554182203), (16.2778676613, 1.4007753111)],
                knots=[4.002636191, 4.002636191, 4.002636191, 4.3905374151, 4.3905374151, 4.3905374151], degree=2, weights=[1, 0.9812504656, 1]))
            add(Edge.make_bspline(
                [(24.2773097088, -8.2450815815), (67.3889424296, 0.9092704069), (21.0774784797, 8.857047955)],
                knots=[2.2398493038, 2.2398493038, 2.2398493038, 4.1437410587, 4.1437410587, 4.1437410587], degree=2, weights=[1, 0.5800991823, 1]))
        make_face()
        with BuildLine():
            add(Edge.make_bspline(
                [(24.2773097088, -8.2450815815), (21.0599122764, -3.554182203), (16.2778676613, 1.4007753111)],
                knots=[4.002636191, 4.002636191, 4.002636191, 4.3905374151, 4.3905374151, 4.3905374151], degree=2, weights=[1, 0.9812504656, 1]))
            add(Edge.make_bspline(
                [(11.1955196289, -5.0427610987), (13.9309966677, -1.8467505057), (16.2778676613, 1.4007753111)],
                knots=[4.8214844166, 4.8214844166, 4.8214844166, 5.0582362979, 5.0582362979, 5.0582362979], degree=2, weights=[1, 0.9930017462, 1]))
            add(Edge.make_bspline(
                [(10.9244512844, -10.093500542), (11.1052111409, -7.5990778678), (11.1955196289, -5.0427610987)],
                knots=[4.4591883859, 4.4591883859, 4.4591883859, 4.5869070524, 4.5869070524, 4.5869070524], degree=2, weights=[1, 0.9979616856, 1]))
            add(Edge.make_bspline(
                [(10.9244512844, -10.093500542), (18.2738244712, -9.5198655215), (24.2773097088, -8.2450815815)],
                knots=[1.8536539989, 1.8536539989, 1.8536539989, 2.2398493038, 2.2398493038, 2.2398493038], degree=2, weights=[1, 0.9814145055, 1]))
        make_face()
    extrude(amount=F1_DEPTH)


solid = f1.part
